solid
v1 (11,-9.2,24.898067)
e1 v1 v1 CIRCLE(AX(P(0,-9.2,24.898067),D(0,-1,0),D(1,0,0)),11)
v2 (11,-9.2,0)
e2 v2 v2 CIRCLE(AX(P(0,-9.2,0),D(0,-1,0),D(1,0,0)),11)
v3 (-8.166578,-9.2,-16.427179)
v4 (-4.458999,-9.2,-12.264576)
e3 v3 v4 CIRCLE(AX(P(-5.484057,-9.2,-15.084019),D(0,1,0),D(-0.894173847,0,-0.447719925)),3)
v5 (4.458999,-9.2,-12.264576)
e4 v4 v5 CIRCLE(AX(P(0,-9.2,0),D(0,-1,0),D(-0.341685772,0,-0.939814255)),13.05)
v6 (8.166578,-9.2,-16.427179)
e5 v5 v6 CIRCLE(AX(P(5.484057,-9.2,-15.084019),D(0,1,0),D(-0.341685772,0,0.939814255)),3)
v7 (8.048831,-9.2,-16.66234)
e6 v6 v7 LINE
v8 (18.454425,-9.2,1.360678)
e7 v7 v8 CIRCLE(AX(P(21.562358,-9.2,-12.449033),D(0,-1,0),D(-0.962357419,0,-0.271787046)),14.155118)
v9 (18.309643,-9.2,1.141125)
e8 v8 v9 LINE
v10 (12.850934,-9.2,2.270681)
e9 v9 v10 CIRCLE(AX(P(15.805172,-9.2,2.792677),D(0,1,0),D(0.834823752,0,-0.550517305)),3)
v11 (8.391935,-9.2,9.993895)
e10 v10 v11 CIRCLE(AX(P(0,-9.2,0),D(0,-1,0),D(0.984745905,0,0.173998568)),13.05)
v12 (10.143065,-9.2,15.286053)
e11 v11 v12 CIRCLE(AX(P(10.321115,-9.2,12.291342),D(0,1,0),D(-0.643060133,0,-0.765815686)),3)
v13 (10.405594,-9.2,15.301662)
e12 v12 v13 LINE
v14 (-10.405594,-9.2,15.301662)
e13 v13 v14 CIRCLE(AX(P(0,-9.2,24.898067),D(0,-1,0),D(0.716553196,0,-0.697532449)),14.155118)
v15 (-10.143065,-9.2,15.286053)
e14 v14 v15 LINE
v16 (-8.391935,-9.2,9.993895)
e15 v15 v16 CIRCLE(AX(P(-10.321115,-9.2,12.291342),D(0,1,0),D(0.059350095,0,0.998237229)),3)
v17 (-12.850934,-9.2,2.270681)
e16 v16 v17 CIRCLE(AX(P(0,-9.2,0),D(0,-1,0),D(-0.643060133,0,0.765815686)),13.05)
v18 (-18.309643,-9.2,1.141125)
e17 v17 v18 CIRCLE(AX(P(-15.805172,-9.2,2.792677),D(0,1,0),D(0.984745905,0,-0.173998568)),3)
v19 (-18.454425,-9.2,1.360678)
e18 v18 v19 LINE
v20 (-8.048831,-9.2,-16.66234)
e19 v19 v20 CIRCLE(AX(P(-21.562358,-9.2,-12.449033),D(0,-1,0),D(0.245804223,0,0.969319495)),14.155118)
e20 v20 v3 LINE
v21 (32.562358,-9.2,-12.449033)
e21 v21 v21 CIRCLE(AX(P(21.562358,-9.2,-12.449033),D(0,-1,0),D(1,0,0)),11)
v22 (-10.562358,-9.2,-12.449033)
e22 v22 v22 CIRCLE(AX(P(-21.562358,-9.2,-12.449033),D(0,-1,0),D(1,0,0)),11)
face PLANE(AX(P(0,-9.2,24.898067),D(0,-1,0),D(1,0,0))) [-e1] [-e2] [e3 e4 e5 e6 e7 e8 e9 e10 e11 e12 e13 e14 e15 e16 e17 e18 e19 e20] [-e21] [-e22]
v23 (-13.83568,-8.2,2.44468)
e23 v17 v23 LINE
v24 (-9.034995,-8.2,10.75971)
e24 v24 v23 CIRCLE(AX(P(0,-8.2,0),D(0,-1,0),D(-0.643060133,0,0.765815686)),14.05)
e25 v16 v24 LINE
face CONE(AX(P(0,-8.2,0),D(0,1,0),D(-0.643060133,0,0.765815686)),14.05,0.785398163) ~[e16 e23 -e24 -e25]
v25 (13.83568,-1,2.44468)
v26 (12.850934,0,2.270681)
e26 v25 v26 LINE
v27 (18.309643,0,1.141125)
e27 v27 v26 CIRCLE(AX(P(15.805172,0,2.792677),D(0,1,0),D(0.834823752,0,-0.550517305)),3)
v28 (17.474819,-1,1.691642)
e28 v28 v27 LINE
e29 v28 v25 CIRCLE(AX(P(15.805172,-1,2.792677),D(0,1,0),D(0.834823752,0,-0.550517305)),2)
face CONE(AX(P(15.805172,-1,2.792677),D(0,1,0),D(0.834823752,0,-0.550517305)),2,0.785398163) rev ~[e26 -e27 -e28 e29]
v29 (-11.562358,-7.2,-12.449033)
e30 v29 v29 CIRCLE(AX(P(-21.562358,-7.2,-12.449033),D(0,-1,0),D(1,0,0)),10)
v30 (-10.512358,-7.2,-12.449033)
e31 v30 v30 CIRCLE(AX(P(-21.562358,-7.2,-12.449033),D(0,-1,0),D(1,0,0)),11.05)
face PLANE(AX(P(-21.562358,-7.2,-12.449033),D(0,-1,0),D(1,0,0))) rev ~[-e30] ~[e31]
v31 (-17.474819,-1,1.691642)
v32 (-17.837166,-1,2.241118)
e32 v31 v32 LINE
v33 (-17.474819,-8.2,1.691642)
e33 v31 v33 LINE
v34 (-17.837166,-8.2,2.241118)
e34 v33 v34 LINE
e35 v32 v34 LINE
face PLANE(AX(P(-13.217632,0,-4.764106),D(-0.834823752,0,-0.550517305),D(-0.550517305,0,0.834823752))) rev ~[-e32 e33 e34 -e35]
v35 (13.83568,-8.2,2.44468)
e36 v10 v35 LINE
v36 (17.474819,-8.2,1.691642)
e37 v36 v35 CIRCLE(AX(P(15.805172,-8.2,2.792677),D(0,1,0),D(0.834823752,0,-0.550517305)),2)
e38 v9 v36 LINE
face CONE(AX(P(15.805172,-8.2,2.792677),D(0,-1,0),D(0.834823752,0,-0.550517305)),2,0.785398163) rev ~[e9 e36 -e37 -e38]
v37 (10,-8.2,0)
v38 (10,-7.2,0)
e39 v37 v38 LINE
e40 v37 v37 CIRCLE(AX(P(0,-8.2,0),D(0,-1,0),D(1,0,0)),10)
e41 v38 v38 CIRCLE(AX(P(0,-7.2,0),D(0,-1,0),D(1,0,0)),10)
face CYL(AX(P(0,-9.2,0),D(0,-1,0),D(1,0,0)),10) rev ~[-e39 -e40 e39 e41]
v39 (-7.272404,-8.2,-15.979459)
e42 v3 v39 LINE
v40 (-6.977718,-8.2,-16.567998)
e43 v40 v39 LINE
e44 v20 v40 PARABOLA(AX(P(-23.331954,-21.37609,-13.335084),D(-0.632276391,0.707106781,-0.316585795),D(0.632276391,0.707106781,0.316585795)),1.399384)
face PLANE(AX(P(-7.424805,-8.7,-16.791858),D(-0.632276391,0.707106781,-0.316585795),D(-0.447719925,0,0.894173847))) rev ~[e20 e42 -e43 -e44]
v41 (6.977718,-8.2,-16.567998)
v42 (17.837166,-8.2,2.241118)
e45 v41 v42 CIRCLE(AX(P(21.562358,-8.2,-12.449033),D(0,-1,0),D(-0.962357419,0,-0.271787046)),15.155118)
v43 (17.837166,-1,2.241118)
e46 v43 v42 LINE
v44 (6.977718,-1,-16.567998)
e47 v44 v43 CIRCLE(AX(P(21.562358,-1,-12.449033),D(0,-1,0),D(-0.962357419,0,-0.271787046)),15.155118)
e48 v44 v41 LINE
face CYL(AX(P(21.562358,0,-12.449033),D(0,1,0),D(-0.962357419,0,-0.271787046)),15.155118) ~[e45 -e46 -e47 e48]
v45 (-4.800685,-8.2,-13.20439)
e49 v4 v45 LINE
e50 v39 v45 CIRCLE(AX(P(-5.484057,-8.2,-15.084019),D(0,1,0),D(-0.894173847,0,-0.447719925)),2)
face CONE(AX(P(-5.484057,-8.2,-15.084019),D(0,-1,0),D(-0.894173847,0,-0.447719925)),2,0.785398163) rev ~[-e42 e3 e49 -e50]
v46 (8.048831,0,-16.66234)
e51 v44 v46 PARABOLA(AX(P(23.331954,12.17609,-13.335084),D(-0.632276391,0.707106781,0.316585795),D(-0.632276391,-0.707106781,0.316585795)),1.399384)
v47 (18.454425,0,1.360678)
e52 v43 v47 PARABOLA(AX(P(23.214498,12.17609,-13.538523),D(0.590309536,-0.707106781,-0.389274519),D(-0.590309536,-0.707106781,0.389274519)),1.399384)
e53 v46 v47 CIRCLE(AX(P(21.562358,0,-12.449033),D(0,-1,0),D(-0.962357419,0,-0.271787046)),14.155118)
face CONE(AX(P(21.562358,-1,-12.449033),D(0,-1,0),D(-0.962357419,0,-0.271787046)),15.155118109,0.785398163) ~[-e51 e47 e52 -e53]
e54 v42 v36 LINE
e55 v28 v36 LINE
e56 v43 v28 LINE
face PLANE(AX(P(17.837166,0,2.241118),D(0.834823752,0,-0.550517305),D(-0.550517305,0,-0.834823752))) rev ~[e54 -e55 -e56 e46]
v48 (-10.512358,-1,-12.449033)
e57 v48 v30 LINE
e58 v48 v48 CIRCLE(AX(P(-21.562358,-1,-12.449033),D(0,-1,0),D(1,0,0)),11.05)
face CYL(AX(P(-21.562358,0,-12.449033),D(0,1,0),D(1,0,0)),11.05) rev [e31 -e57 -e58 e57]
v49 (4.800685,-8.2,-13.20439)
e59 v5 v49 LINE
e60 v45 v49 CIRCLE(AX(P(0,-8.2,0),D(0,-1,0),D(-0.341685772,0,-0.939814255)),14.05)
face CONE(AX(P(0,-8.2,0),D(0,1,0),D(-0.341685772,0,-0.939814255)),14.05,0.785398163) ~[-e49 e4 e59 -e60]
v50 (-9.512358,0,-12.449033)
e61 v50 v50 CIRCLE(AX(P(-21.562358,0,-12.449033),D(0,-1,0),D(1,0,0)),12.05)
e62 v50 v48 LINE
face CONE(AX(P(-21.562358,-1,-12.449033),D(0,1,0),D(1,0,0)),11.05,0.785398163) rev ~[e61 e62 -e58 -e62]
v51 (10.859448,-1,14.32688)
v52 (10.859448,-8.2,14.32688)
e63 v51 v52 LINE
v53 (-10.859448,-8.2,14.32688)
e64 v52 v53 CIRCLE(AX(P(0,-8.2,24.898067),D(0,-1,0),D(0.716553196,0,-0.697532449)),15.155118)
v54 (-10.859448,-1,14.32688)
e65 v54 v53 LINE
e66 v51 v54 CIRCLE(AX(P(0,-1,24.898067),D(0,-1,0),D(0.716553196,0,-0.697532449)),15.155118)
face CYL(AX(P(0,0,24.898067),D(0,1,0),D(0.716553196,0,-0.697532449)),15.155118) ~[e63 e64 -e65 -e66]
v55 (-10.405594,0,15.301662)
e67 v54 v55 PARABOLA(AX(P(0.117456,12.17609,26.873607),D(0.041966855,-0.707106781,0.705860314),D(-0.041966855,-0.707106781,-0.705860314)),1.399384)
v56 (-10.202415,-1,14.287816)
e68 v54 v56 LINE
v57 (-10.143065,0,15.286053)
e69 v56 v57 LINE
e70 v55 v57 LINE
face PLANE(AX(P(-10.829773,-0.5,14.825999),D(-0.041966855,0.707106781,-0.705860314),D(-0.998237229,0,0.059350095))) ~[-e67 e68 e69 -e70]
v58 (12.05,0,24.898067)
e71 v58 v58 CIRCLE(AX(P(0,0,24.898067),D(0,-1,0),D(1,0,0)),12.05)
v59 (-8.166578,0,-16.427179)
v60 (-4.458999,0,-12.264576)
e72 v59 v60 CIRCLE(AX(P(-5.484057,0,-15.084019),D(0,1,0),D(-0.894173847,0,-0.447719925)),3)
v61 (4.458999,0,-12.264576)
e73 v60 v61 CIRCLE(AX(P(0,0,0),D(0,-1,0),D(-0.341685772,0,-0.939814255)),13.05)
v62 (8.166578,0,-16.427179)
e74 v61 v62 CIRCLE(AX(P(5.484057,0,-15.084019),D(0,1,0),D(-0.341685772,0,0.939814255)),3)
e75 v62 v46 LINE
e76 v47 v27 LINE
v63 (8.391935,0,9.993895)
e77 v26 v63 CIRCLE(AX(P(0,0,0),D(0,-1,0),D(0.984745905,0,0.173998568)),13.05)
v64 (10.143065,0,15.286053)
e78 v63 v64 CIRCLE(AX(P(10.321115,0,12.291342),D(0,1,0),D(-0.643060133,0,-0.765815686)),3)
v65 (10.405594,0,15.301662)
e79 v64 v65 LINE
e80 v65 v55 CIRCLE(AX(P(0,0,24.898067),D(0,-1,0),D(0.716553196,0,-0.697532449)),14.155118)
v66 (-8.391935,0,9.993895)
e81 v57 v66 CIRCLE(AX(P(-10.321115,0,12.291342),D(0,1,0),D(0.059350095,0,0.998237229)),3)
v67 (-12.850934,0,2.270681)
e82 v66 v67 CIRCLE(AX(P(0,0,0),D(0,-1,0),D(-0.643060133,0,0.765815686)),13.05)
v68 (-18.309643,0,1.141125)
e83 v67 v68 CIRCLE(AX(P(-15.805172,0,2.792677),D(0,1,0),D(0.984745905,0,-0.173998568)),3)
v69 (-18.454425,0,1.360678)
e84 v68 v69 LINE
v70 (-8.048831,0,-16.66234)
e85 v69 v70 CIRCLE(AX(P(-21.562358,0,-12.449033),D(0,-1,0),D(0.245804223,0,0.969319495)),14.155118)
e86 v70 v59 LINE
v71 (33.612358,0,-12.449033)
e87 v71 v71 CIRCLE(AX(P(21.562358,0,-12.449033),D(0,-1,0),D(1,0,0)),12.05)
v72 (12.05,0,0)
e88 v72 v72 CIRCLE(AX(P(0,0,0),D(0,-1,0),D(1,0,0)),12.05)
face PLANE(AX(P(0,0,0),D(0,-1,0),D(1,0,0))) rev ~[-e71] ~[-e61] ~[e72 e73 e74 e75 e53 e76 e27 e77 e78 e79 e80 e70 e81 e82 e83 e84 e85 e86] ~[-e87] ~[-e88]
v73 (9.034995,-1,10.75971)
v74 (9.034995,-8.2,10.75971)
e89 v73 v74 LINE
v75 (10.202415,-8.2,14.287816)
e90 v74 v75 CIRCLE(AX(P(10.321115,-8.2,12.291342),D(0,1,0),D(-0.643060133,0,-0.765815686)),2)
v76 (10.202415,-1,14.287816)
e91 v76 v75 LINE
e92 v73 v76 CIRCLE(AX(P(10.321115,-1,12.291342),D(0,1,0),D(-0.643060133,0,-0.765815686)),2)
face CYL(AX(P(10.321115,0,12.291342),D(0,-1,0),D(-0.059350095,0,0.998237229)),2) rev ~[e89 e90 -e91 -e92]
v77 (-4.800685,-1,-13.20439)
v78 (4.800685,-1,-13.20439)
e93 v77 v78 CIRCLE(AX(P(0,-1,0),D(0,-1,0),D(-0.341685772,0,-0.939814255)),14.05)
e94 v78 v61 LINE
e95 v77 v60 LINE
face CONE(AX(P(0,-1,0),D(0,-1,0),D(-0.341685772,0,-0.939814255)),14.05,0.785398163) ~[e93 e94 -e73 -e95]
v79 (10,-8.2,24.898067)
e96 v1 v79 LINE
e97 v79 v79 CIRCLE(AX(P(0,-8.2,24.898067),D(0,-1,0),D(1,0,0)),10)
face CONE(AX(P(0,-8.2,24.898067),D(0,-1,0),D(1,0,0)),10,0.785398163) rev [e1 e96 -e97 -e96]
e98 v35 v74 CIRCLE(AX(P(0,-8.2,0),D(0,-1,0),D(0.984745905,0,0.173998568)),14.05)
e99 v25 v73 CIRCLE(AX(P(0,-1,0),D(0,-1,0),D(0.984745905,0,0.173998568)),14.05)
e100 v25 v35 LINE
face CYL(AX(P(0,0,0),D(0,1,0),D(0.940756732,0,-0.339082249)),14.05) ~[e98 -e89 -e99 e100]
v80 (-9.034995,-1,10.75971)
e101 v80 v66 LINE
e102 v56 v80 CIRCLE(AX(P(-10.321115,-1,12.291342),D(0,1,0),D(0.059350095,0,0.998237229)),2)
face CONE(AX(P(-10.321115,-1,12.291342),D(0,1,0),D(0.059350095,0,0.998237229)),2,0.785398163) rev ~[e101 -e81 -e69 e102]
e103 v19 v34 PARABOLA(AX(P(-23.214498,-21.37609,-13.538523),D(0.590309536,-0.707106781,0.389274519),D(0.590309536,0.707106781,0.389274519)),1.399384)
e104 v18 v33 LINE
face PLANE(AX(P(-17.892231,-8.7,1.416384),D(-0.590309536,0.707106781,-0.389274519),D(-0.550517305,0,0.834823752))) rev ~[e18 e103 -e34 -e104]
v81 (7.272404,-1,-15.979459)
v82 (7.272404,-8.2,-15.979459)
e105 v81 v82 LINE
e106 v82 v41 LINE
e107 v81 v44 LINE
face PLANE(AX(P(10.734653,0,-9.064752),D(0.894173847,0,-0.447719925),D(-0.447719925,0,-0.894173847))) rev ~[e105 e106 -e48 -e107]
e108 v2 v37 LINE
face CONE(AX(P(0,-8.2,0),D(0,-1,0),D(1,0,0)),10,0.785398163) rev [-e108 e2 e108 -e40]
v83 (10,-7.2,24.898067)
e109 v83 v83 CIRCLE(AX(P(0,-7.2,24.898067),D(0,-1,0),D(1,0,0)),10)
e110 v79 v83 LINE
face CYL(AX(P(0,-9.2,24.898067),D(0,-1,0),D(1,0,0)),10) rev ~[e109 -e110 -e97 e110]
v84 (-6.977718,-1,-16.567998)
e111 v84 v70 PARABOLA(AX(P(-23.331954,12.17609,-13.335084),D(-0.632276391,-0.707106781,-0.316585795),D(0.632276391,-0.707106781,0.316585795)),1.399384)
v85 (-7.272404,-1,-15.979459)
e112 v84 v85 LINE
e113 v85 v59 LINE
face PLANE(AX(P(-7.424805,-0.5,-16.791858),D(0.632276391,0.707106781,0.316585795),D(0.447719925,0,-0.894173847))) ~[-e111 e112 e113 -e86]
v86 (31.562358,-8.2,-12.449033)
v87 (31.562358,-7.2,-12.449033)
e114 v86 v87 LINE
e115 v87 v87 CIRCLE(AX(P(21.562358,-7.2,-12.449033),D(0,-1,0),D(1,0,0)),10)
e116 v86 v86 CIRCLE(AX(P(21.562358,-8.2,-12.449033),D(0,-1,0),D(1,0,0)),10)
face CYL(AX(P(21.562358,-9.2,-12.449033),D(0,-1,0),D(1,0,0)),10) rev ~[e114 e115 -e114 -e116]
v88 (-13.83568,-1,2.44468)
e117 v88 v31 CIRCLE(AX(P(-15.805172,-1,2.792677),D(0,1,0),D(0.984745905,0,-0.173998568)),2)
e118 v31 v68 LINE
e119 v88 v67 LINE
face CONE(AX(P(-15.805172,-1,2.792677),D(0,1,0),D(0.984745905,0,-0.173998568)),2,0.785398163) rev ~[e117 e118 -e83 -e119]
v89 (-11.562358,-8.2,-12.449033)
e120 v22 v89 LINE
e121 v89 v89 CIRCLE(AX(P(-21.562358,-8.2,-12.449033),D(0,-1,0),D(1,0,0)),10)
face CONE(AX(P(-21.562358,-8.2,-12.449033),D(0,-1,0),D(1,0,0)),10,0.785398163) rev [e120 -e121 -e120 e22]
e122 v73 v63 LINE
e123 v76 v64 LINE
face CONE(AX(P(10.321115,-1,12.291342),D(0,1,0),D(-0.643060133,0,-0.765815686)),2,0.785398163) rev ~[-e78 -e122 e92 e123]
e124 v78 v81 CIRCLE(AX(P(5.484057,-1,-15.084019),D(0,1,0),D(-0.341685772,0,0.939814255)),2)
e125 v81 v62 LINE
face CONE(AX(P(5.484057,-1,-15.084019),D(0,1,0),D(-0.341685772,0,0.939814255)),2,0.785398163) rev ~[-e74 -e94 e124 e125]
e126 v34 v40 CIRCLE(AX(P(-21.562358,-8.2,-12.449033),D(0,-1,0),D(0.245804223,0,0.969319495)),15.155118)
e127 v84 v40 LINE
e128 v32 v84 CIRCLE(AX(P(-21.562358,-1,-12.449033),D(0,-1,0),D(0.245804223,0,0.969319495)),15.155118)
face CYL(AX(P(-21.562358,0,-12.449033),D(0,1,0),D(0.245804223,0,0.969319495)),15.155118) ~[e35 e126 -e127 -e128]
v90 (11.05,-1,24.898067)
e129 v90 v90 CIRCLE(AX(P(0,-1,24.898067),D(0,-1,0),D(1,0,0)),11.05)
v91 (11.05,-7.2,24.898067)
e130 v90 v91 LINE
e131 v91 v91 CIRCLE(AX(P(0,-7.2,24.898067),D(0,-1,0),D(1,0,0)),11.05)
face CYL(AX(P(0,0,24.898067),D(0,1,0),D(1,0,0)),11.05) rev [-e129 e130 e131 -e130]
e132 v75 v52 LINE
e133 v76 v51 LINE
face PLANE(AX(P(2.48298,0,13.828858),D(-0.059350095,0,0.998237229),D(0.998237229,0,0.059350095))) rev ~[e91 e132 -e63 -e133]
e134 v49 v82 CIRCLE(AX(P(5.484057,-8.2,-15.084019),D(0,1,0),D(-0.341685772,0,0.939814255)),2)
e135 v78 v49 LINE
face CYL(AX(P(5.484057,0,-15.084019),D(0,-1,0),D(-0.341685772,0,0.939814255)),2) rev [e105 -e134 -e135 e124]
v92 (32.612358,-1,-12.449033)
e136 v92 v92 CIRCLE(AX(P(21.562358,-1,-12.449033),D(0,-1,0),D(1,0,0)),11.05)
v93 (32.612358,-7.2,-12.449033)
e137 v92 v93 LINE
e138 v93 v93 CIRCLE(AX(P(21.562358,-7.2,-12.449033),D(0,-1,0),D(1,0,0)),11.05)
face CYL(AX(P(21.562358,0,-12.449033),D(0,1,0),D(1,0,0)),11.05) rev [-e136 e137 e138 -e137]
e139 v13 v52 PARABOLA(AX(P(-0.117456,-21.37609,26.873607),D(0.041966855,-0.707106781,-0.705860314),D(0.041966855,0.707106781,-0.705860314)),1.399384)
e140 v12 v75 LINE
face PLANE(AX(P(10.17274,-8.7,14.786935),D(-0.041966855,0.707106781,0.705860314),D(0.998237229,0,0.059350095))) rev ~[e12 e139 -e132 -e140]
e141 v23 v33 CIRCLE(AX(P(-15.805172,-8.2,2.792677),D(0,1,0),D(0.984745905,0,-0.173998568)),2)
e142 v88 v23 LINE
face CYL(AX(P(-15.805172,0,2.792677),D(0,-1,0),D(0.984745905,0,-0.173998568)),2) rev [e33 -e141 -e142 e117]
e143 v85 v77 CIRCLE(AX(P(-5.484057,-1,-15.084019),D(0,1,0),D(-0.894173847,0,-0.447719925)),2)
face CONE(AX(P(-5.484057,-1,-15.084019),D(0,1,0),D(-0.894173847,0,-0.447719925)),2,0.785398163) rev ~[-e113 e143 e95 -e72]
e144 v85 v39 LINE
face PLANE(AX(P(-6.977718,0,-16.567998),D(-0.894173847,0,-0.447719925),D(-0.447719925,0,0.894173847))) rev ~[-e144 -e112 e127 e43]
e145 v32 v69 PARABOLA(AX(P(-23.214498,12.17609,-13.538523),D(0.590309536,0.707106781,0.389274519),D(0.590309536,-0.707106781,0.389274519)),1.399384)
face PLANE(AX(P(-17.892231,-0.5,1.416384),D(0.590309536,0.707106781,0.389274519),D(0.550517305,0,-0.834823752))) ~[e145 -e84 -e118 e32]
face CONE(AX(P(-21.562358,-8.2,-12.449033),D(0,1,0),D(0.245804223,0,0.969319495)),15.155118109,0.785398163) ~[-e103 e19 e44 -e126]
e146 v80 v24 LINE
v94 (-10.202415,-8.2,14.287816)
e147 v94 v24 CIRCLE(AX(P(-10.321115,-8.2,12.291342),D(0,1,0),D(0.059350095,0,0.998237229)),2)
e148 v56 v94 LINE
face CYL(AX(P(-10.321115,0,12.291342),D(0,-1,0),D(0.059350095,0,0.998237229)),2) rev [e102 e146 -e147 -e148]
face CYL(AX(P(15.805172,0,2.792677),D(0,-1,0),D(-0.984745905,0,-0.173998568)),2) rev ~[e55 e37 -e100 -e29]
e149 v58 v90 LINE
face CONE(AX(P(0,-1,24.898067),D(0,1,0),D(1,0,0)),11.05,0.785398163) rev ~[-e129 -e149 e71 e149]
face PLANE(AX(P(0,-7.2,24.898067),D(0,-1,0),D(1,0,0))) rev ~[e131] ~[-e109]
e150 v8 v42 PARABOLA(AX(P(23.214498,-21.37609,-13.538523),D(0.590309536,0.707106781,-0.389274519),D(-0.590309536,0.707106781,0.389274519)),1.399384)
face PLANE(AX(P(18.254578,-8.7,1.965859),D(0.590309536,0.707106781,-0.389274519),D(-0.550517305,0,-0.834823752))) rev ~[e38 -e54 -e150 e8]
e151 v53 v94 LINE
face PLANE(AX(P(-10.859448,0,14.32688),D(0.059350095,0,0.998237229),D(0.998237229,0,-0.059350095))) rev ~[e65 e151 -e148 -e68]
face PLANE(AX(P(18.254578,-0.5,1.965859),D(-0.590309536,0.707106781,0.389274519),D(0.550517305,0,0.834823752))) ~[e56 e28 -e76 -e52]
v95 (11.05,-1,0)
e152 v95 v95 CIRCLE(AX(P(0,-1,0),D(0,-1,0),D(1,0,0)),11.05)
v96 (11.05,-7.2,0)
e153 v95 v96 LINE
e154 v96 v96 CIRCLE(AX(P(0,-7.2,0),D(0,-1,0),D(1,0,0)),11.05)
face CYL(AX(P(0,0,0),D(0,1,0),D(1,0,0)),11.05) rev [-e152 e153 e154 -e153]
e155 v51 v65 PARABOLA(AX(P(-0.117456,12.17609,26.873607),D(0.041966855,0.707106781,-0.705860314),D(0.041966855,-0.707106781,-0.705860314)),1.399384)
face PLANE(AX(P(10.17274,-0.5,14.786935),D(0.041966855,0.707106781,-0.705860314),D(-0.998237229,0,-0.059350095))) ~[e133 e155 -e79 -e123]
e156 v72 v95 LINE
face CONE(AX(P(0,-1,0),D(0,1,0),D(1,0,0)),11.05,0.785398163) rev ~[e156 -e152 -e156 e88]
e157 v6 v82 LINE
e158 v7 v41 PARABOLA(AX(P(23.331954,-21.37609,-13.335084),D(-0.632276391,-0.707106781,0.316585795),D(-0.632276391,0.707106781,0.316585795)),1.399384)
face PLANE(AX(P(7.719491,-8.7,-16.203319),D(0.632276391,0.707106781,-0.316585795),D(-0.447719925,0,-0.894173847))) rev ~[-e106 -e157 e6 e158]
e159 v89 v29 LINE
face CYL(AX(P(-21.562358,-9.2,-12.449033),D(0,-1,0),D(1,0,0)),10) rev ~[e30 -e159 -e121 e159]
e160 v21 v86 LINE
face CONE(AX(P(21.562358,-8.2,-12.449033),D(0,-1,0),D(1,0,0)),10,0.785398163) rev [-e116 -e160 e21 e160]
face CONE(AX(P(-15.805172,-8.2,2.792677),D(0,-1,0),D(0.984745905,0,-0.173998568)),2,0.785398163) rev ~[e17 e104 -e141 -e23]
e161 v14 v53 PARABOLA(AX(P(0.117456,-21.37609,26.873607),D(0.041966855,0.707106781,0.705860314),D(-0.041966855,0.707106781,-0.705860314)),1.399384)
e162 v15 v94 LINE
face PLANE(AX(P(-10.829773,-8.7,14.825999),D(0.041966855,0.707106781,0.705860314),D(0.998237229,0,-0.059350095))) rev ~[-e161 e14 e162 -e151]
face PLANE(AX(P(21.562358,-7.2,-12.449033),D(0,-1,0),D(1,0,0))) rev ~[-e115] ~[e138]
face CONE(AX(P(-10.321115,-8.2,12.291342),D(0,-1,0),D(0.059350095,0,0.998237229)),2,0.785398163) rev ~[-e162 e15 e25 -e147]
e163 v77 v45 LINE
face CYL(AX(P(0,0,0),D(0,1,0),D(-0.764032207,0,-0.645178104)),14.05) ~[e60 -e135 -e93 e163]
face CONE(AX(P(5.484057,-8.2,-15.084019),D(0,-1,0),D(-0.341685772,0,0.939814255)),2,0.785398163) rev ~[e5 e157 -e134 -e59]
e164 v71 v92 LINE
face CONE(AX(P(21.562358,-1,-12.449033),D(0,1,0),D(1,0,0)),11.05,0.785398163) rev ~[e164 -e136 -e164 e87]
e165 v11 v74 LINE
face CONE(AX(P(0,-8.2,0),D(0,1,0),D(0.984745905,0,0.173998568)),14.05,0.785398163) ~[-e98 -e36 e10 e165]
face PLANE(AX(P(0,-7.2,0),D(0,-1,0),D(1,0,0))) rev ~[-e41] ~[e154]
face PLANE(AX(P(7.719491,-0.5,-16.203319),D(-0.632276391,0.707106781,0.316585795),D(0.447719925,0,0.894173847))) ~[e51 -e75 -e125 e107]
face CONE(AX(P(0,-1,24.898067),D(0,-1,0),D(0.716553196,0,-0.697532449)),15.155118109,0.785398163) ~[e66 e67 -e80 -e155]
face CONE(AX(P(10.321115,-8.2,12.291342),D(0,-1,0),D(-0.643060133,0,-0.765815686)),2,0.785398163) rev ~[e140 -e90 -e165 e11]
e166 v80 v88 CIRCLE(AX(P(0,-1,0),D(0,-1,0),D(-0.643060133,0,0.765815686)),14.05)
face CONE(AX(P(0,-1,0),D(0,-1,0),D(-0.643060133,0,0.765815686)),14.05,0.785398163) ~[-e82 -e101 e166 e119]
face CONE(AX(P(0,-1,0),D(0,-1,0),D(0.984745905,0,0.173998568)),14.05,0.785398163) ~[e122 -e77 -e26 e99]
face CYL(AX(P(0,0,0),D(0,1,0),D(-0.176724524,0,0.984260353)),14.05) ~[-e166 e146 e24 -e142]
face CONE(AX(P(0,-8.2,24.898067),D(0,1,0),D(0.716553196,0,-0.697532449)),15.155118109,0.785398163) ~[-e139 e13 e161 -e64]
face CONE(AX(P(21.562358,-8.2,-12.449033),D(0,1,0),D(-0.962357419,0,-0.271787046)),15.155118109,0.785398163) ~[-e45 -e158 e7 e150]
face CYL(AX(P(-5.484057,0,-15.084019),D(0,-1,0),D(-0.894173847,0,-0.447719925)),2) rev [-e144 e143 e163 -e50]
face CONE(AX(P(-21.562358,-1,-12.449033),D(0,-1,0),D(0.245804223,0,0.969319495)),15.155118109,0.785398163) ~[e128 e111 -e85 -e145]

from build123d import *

# Parameters (mm, degrees)
F0_R     = 11.05
F1_DEPTH = 9.2
F2_R     = 11.05
F2_R_2   = 10
F3_DEPTH = 2
F4_R     = 2
F6_DEPTH = 25
F7_SIZE  = 1
F8_SIZE  = 1


with BuildPart() as f1:
    # F0 (on Front) → F1 (new body)
    with BuildSketch(Plane.XZ):
        with BuildLine():
            Line((-10.8594483096, 14.3268800737), (-2.4829795671, 13.8288579597))
            ThreePointArc((-2.4829795671, 13.8288579597), (-12.1676569232, 7.025), (-13.217632082, -4.7641055977))
            Line((-13.217632082, -4.7641055977), (-17.8371662556, 2.2411180703))
            ThreePointArc((-17.8371662556, 2.2411180703), (-34.6870755728, -20.0265924193), (-6.977717946, -16.5679981441))
            Line((-6.977717946, -16.5679981441), (-10.7346525149, -9.064752362))
            ThreePointArc((-10.7346525149, -9.064752362), (0, -14.05), (10.7346525149, -9.064752362))
            Line((10.7346525149, -9.064752362), (6.977717946, -16.5679981441))
            ThreePointArc((6.977717946, -16.5679981441), (34.6870755728, -20.0265924193), (17.8371662556, 2.2411180703))
            Line((17.8371662556, 2.2411180703), (13.217632082, -4.7641055977))
            ThreePointArc((13.217632082, -4.7641055977), (12.1676569232, 7.025), (2.4829795671, 13.8288579597))
            Line((2.4829795671, 13.8288579597), (10.8594483096, 14.3268800737))
            ThreePointArc((10.8594483096, 14.3268800737), (0, 40.0531848387), (-10.8594483096, 14.3268800737))
        make_face()
        with Locations((-21.5623582929, -12.4490333648)):
            Circle(F0_R, mode=Mode.SUBTRACT)
        with Locations((21.5623582929, -12.4490333648)):
            Circle(F0_R, mode=Mode.SUBTRACT)
        Circle(F0_R, mode=Mode.SUBTRACT)
        with Locations((0, 24.8980667296)):
            Circle(F0_R, mode=Mode.SUBTRACT)
    extrude(amount=F1_DEPTH)

    # F2 (on face) → F3 (join)
    with BuildSketch(Plane.XZ.offset(9.2)):
        with Locations((0, 24.8980667296)):
            Circle(F2_R)
        with Locations((0, 24.8980667296)):
            Circle(F2_R_2, mode=Mode.SUBTRACT)
        with Locations((-21.5623582929, -12.4490333648)):
            Circle(F2_R)
        with Locations((-21.5623582929, -12.4490333648)):
            Circle(F2_R_2, mode=Mode.SUBTRACT)
        with Locations((21.5623582929, -12.4490333648)):
            Circle(F2_R)
        with Locations((21.5623582929, -12.4490333648)):
            Circle(F2_R_2, mode=Mode.SUBTRACT)
        Circle(F2_R)
        Circle(F2_R_2, mode=Mode.SUBTRACT)
    extrude(amount=-F3_DEPTH)

    # F4
    f4_edges = [f1.edges().sort_by_distance(p)[0] for p in [
        (2.48298, -4.6, 13.828858),
        (-2.48298, -4.6, 13.828858),
        (-13.217632, -4.6, -4.764106),
        (-10.734653, -4.6, -9.064752),
        (10.734653, -4.6, -9.064752),
        (13.217632, -4.6, -4.764106),
    ]]
    fillet(f4_edges, radius=F4_R)

    # F5 (on face) → F6 (cut)
    with BuildSketch(Plane.XZ.offset(9.2)):
        with BuildLine():
            Line((0, 18.9108662307), (1.7659365324, 21.1738422452))
            ThreePointArc((1.7659365324, 21.1738422452), (0, 24.9152206672), (-1.7659365324, 21.1738422452))
            Line((-1.7659365324, 21.1738422452), (0, 18.9108662307))
        make_face()
        with BuildLine():
            Line((-16.3772905634, -9.4554331154), (-19.2200535463, -9.057575224))
            ThreePointArc((-19.2200535463, -9.057575224), (-21.5772140387, -12.4576103336), (-17.4541170138, -12.1162670212))
            Line((-17.4541170138, -12.1162670212), (-16.3772905634, -9.4554331154))
        make_face()
        with BuildLine():
            Line((16.3772905634, -9.4554331154), (17.4541170138, -12.1162670212))
            ThreePointArc((17.4541170138, -12.1162670212), (21.5772140387, -12.4576103336), (19.2200535463, -9.057575224))
            Line((19.2200535463, -9.057575224), (16.3772905634, -9.4554331154))
        make_face()
    extrude(amount=-F6_DEPTH, mode=Mode.SUBTRACT)

    # F7
    f7_edges = [f1.edges().sort_by_distance(p)[0] for p in [
        (10.530932, 0, 14.307348),
        (8.422362, 0, 12.919623),
        (0, 0, 40.053185),
        (12.167657, 0, 7.025),
        (-10.530932, 0, 14.307348),
        (15.399903, 0, 0.834168),
        (-8.422362, 0, 12.919623),
        (17.655993, 0, 1.96638),
        (-12.167657, 0, 7.025),
        (34.687076, 0, -20.026592),
        (-15.399903, 0, 0.834168),
        (7.125061, 0, -16.273728),
        (-17.655993, 0, 1.96638),
        (6.977541, 0, -13.753791),
        (-34.687076, 0, -20.026592),
        (0, 0, -14.05),
        (-7.125061, 0, -16.273728),
        (-6.977541, 0, -13.753791),
        (-32.612358, 0, -12.449033),
        (10.512358, 0, -12.449033),
        (-11.05, 0, 0),
        (-11.05, 0, 24.898067),
    ]]
    chamfer(f7_edges, length=F7_SIZE)

    # F8#2 (call 1 of 5: OpenCascade refuses the feature's edges together)
    f8_2_edges = [f1.edges().sort_by_distance(p)[0] for p in [
        (-31.562358, -9.2, -12.449033),
    ]]
    chamfer(f8_2_edges, length=F8_SIZE)

    # F8#3 (call 2 of 5)
    f8_3_edges = [f1.edges().sort_by_distance(p)[0] for p in [
        (11.562358, -9.2, -12.449033),
    ]]
    chamfer(f8_3_edges, length=F8_SIZE)

    # F8#4 (call 3 of 5)
    f8_4_edges = [f1.edges().sort_by_distance(p)[0] for p in [
        (-10, -9.2, 0),
    ]]
    chamfer(f8_4_edges, length=F8_SIZE)

    # F8#5 (call 4 of 5)
    f8_5_edges = [f1.edges().sort_by_distance(p)[0] for p in [
        (-10, -9.2, 24.898067),
    ]]
    chamfer(f8_5_edges, length=F8_SIZE)

    # F8 (call 5 of 5)
    f8_edges = [f1.edges().sort_by_distance(p)[0] for p in [
        (10.530932, -9.2, 14.307348),
        (8.422362, -9.2, 12.919623),
        (0, -9.2, 40.053185),
        (12.167657, -9.2, 7.025),
        (-10.530932, -9.2, 14.307348),
        (15.399903, -9.2, 0.834168),
        (-8.422362, -9.2, 12.919623),
        (17.655993, -9.2, 1.96638),
        (-12.167657, -9.2, 7.025),
        (34.687076, -9.2, -20.026592),
        (-15.399903, -9.2, 0.834168),
        (7.125061, -9.2, -16.273728),
        (-17.655993, -9.2, 1.96638),
        (6.977541, -9.2, -13.753791),
        (-34.687076, -9.2, -20.026592),
        (0, -9.2, -14.05),
        (-7.125061, -9.2, -16.273728),
        (-6.977541, -9.2, -13.753791),
    ]]
    chamfer(f8_edges, length=F8_SIZE)


solid = f1.part
